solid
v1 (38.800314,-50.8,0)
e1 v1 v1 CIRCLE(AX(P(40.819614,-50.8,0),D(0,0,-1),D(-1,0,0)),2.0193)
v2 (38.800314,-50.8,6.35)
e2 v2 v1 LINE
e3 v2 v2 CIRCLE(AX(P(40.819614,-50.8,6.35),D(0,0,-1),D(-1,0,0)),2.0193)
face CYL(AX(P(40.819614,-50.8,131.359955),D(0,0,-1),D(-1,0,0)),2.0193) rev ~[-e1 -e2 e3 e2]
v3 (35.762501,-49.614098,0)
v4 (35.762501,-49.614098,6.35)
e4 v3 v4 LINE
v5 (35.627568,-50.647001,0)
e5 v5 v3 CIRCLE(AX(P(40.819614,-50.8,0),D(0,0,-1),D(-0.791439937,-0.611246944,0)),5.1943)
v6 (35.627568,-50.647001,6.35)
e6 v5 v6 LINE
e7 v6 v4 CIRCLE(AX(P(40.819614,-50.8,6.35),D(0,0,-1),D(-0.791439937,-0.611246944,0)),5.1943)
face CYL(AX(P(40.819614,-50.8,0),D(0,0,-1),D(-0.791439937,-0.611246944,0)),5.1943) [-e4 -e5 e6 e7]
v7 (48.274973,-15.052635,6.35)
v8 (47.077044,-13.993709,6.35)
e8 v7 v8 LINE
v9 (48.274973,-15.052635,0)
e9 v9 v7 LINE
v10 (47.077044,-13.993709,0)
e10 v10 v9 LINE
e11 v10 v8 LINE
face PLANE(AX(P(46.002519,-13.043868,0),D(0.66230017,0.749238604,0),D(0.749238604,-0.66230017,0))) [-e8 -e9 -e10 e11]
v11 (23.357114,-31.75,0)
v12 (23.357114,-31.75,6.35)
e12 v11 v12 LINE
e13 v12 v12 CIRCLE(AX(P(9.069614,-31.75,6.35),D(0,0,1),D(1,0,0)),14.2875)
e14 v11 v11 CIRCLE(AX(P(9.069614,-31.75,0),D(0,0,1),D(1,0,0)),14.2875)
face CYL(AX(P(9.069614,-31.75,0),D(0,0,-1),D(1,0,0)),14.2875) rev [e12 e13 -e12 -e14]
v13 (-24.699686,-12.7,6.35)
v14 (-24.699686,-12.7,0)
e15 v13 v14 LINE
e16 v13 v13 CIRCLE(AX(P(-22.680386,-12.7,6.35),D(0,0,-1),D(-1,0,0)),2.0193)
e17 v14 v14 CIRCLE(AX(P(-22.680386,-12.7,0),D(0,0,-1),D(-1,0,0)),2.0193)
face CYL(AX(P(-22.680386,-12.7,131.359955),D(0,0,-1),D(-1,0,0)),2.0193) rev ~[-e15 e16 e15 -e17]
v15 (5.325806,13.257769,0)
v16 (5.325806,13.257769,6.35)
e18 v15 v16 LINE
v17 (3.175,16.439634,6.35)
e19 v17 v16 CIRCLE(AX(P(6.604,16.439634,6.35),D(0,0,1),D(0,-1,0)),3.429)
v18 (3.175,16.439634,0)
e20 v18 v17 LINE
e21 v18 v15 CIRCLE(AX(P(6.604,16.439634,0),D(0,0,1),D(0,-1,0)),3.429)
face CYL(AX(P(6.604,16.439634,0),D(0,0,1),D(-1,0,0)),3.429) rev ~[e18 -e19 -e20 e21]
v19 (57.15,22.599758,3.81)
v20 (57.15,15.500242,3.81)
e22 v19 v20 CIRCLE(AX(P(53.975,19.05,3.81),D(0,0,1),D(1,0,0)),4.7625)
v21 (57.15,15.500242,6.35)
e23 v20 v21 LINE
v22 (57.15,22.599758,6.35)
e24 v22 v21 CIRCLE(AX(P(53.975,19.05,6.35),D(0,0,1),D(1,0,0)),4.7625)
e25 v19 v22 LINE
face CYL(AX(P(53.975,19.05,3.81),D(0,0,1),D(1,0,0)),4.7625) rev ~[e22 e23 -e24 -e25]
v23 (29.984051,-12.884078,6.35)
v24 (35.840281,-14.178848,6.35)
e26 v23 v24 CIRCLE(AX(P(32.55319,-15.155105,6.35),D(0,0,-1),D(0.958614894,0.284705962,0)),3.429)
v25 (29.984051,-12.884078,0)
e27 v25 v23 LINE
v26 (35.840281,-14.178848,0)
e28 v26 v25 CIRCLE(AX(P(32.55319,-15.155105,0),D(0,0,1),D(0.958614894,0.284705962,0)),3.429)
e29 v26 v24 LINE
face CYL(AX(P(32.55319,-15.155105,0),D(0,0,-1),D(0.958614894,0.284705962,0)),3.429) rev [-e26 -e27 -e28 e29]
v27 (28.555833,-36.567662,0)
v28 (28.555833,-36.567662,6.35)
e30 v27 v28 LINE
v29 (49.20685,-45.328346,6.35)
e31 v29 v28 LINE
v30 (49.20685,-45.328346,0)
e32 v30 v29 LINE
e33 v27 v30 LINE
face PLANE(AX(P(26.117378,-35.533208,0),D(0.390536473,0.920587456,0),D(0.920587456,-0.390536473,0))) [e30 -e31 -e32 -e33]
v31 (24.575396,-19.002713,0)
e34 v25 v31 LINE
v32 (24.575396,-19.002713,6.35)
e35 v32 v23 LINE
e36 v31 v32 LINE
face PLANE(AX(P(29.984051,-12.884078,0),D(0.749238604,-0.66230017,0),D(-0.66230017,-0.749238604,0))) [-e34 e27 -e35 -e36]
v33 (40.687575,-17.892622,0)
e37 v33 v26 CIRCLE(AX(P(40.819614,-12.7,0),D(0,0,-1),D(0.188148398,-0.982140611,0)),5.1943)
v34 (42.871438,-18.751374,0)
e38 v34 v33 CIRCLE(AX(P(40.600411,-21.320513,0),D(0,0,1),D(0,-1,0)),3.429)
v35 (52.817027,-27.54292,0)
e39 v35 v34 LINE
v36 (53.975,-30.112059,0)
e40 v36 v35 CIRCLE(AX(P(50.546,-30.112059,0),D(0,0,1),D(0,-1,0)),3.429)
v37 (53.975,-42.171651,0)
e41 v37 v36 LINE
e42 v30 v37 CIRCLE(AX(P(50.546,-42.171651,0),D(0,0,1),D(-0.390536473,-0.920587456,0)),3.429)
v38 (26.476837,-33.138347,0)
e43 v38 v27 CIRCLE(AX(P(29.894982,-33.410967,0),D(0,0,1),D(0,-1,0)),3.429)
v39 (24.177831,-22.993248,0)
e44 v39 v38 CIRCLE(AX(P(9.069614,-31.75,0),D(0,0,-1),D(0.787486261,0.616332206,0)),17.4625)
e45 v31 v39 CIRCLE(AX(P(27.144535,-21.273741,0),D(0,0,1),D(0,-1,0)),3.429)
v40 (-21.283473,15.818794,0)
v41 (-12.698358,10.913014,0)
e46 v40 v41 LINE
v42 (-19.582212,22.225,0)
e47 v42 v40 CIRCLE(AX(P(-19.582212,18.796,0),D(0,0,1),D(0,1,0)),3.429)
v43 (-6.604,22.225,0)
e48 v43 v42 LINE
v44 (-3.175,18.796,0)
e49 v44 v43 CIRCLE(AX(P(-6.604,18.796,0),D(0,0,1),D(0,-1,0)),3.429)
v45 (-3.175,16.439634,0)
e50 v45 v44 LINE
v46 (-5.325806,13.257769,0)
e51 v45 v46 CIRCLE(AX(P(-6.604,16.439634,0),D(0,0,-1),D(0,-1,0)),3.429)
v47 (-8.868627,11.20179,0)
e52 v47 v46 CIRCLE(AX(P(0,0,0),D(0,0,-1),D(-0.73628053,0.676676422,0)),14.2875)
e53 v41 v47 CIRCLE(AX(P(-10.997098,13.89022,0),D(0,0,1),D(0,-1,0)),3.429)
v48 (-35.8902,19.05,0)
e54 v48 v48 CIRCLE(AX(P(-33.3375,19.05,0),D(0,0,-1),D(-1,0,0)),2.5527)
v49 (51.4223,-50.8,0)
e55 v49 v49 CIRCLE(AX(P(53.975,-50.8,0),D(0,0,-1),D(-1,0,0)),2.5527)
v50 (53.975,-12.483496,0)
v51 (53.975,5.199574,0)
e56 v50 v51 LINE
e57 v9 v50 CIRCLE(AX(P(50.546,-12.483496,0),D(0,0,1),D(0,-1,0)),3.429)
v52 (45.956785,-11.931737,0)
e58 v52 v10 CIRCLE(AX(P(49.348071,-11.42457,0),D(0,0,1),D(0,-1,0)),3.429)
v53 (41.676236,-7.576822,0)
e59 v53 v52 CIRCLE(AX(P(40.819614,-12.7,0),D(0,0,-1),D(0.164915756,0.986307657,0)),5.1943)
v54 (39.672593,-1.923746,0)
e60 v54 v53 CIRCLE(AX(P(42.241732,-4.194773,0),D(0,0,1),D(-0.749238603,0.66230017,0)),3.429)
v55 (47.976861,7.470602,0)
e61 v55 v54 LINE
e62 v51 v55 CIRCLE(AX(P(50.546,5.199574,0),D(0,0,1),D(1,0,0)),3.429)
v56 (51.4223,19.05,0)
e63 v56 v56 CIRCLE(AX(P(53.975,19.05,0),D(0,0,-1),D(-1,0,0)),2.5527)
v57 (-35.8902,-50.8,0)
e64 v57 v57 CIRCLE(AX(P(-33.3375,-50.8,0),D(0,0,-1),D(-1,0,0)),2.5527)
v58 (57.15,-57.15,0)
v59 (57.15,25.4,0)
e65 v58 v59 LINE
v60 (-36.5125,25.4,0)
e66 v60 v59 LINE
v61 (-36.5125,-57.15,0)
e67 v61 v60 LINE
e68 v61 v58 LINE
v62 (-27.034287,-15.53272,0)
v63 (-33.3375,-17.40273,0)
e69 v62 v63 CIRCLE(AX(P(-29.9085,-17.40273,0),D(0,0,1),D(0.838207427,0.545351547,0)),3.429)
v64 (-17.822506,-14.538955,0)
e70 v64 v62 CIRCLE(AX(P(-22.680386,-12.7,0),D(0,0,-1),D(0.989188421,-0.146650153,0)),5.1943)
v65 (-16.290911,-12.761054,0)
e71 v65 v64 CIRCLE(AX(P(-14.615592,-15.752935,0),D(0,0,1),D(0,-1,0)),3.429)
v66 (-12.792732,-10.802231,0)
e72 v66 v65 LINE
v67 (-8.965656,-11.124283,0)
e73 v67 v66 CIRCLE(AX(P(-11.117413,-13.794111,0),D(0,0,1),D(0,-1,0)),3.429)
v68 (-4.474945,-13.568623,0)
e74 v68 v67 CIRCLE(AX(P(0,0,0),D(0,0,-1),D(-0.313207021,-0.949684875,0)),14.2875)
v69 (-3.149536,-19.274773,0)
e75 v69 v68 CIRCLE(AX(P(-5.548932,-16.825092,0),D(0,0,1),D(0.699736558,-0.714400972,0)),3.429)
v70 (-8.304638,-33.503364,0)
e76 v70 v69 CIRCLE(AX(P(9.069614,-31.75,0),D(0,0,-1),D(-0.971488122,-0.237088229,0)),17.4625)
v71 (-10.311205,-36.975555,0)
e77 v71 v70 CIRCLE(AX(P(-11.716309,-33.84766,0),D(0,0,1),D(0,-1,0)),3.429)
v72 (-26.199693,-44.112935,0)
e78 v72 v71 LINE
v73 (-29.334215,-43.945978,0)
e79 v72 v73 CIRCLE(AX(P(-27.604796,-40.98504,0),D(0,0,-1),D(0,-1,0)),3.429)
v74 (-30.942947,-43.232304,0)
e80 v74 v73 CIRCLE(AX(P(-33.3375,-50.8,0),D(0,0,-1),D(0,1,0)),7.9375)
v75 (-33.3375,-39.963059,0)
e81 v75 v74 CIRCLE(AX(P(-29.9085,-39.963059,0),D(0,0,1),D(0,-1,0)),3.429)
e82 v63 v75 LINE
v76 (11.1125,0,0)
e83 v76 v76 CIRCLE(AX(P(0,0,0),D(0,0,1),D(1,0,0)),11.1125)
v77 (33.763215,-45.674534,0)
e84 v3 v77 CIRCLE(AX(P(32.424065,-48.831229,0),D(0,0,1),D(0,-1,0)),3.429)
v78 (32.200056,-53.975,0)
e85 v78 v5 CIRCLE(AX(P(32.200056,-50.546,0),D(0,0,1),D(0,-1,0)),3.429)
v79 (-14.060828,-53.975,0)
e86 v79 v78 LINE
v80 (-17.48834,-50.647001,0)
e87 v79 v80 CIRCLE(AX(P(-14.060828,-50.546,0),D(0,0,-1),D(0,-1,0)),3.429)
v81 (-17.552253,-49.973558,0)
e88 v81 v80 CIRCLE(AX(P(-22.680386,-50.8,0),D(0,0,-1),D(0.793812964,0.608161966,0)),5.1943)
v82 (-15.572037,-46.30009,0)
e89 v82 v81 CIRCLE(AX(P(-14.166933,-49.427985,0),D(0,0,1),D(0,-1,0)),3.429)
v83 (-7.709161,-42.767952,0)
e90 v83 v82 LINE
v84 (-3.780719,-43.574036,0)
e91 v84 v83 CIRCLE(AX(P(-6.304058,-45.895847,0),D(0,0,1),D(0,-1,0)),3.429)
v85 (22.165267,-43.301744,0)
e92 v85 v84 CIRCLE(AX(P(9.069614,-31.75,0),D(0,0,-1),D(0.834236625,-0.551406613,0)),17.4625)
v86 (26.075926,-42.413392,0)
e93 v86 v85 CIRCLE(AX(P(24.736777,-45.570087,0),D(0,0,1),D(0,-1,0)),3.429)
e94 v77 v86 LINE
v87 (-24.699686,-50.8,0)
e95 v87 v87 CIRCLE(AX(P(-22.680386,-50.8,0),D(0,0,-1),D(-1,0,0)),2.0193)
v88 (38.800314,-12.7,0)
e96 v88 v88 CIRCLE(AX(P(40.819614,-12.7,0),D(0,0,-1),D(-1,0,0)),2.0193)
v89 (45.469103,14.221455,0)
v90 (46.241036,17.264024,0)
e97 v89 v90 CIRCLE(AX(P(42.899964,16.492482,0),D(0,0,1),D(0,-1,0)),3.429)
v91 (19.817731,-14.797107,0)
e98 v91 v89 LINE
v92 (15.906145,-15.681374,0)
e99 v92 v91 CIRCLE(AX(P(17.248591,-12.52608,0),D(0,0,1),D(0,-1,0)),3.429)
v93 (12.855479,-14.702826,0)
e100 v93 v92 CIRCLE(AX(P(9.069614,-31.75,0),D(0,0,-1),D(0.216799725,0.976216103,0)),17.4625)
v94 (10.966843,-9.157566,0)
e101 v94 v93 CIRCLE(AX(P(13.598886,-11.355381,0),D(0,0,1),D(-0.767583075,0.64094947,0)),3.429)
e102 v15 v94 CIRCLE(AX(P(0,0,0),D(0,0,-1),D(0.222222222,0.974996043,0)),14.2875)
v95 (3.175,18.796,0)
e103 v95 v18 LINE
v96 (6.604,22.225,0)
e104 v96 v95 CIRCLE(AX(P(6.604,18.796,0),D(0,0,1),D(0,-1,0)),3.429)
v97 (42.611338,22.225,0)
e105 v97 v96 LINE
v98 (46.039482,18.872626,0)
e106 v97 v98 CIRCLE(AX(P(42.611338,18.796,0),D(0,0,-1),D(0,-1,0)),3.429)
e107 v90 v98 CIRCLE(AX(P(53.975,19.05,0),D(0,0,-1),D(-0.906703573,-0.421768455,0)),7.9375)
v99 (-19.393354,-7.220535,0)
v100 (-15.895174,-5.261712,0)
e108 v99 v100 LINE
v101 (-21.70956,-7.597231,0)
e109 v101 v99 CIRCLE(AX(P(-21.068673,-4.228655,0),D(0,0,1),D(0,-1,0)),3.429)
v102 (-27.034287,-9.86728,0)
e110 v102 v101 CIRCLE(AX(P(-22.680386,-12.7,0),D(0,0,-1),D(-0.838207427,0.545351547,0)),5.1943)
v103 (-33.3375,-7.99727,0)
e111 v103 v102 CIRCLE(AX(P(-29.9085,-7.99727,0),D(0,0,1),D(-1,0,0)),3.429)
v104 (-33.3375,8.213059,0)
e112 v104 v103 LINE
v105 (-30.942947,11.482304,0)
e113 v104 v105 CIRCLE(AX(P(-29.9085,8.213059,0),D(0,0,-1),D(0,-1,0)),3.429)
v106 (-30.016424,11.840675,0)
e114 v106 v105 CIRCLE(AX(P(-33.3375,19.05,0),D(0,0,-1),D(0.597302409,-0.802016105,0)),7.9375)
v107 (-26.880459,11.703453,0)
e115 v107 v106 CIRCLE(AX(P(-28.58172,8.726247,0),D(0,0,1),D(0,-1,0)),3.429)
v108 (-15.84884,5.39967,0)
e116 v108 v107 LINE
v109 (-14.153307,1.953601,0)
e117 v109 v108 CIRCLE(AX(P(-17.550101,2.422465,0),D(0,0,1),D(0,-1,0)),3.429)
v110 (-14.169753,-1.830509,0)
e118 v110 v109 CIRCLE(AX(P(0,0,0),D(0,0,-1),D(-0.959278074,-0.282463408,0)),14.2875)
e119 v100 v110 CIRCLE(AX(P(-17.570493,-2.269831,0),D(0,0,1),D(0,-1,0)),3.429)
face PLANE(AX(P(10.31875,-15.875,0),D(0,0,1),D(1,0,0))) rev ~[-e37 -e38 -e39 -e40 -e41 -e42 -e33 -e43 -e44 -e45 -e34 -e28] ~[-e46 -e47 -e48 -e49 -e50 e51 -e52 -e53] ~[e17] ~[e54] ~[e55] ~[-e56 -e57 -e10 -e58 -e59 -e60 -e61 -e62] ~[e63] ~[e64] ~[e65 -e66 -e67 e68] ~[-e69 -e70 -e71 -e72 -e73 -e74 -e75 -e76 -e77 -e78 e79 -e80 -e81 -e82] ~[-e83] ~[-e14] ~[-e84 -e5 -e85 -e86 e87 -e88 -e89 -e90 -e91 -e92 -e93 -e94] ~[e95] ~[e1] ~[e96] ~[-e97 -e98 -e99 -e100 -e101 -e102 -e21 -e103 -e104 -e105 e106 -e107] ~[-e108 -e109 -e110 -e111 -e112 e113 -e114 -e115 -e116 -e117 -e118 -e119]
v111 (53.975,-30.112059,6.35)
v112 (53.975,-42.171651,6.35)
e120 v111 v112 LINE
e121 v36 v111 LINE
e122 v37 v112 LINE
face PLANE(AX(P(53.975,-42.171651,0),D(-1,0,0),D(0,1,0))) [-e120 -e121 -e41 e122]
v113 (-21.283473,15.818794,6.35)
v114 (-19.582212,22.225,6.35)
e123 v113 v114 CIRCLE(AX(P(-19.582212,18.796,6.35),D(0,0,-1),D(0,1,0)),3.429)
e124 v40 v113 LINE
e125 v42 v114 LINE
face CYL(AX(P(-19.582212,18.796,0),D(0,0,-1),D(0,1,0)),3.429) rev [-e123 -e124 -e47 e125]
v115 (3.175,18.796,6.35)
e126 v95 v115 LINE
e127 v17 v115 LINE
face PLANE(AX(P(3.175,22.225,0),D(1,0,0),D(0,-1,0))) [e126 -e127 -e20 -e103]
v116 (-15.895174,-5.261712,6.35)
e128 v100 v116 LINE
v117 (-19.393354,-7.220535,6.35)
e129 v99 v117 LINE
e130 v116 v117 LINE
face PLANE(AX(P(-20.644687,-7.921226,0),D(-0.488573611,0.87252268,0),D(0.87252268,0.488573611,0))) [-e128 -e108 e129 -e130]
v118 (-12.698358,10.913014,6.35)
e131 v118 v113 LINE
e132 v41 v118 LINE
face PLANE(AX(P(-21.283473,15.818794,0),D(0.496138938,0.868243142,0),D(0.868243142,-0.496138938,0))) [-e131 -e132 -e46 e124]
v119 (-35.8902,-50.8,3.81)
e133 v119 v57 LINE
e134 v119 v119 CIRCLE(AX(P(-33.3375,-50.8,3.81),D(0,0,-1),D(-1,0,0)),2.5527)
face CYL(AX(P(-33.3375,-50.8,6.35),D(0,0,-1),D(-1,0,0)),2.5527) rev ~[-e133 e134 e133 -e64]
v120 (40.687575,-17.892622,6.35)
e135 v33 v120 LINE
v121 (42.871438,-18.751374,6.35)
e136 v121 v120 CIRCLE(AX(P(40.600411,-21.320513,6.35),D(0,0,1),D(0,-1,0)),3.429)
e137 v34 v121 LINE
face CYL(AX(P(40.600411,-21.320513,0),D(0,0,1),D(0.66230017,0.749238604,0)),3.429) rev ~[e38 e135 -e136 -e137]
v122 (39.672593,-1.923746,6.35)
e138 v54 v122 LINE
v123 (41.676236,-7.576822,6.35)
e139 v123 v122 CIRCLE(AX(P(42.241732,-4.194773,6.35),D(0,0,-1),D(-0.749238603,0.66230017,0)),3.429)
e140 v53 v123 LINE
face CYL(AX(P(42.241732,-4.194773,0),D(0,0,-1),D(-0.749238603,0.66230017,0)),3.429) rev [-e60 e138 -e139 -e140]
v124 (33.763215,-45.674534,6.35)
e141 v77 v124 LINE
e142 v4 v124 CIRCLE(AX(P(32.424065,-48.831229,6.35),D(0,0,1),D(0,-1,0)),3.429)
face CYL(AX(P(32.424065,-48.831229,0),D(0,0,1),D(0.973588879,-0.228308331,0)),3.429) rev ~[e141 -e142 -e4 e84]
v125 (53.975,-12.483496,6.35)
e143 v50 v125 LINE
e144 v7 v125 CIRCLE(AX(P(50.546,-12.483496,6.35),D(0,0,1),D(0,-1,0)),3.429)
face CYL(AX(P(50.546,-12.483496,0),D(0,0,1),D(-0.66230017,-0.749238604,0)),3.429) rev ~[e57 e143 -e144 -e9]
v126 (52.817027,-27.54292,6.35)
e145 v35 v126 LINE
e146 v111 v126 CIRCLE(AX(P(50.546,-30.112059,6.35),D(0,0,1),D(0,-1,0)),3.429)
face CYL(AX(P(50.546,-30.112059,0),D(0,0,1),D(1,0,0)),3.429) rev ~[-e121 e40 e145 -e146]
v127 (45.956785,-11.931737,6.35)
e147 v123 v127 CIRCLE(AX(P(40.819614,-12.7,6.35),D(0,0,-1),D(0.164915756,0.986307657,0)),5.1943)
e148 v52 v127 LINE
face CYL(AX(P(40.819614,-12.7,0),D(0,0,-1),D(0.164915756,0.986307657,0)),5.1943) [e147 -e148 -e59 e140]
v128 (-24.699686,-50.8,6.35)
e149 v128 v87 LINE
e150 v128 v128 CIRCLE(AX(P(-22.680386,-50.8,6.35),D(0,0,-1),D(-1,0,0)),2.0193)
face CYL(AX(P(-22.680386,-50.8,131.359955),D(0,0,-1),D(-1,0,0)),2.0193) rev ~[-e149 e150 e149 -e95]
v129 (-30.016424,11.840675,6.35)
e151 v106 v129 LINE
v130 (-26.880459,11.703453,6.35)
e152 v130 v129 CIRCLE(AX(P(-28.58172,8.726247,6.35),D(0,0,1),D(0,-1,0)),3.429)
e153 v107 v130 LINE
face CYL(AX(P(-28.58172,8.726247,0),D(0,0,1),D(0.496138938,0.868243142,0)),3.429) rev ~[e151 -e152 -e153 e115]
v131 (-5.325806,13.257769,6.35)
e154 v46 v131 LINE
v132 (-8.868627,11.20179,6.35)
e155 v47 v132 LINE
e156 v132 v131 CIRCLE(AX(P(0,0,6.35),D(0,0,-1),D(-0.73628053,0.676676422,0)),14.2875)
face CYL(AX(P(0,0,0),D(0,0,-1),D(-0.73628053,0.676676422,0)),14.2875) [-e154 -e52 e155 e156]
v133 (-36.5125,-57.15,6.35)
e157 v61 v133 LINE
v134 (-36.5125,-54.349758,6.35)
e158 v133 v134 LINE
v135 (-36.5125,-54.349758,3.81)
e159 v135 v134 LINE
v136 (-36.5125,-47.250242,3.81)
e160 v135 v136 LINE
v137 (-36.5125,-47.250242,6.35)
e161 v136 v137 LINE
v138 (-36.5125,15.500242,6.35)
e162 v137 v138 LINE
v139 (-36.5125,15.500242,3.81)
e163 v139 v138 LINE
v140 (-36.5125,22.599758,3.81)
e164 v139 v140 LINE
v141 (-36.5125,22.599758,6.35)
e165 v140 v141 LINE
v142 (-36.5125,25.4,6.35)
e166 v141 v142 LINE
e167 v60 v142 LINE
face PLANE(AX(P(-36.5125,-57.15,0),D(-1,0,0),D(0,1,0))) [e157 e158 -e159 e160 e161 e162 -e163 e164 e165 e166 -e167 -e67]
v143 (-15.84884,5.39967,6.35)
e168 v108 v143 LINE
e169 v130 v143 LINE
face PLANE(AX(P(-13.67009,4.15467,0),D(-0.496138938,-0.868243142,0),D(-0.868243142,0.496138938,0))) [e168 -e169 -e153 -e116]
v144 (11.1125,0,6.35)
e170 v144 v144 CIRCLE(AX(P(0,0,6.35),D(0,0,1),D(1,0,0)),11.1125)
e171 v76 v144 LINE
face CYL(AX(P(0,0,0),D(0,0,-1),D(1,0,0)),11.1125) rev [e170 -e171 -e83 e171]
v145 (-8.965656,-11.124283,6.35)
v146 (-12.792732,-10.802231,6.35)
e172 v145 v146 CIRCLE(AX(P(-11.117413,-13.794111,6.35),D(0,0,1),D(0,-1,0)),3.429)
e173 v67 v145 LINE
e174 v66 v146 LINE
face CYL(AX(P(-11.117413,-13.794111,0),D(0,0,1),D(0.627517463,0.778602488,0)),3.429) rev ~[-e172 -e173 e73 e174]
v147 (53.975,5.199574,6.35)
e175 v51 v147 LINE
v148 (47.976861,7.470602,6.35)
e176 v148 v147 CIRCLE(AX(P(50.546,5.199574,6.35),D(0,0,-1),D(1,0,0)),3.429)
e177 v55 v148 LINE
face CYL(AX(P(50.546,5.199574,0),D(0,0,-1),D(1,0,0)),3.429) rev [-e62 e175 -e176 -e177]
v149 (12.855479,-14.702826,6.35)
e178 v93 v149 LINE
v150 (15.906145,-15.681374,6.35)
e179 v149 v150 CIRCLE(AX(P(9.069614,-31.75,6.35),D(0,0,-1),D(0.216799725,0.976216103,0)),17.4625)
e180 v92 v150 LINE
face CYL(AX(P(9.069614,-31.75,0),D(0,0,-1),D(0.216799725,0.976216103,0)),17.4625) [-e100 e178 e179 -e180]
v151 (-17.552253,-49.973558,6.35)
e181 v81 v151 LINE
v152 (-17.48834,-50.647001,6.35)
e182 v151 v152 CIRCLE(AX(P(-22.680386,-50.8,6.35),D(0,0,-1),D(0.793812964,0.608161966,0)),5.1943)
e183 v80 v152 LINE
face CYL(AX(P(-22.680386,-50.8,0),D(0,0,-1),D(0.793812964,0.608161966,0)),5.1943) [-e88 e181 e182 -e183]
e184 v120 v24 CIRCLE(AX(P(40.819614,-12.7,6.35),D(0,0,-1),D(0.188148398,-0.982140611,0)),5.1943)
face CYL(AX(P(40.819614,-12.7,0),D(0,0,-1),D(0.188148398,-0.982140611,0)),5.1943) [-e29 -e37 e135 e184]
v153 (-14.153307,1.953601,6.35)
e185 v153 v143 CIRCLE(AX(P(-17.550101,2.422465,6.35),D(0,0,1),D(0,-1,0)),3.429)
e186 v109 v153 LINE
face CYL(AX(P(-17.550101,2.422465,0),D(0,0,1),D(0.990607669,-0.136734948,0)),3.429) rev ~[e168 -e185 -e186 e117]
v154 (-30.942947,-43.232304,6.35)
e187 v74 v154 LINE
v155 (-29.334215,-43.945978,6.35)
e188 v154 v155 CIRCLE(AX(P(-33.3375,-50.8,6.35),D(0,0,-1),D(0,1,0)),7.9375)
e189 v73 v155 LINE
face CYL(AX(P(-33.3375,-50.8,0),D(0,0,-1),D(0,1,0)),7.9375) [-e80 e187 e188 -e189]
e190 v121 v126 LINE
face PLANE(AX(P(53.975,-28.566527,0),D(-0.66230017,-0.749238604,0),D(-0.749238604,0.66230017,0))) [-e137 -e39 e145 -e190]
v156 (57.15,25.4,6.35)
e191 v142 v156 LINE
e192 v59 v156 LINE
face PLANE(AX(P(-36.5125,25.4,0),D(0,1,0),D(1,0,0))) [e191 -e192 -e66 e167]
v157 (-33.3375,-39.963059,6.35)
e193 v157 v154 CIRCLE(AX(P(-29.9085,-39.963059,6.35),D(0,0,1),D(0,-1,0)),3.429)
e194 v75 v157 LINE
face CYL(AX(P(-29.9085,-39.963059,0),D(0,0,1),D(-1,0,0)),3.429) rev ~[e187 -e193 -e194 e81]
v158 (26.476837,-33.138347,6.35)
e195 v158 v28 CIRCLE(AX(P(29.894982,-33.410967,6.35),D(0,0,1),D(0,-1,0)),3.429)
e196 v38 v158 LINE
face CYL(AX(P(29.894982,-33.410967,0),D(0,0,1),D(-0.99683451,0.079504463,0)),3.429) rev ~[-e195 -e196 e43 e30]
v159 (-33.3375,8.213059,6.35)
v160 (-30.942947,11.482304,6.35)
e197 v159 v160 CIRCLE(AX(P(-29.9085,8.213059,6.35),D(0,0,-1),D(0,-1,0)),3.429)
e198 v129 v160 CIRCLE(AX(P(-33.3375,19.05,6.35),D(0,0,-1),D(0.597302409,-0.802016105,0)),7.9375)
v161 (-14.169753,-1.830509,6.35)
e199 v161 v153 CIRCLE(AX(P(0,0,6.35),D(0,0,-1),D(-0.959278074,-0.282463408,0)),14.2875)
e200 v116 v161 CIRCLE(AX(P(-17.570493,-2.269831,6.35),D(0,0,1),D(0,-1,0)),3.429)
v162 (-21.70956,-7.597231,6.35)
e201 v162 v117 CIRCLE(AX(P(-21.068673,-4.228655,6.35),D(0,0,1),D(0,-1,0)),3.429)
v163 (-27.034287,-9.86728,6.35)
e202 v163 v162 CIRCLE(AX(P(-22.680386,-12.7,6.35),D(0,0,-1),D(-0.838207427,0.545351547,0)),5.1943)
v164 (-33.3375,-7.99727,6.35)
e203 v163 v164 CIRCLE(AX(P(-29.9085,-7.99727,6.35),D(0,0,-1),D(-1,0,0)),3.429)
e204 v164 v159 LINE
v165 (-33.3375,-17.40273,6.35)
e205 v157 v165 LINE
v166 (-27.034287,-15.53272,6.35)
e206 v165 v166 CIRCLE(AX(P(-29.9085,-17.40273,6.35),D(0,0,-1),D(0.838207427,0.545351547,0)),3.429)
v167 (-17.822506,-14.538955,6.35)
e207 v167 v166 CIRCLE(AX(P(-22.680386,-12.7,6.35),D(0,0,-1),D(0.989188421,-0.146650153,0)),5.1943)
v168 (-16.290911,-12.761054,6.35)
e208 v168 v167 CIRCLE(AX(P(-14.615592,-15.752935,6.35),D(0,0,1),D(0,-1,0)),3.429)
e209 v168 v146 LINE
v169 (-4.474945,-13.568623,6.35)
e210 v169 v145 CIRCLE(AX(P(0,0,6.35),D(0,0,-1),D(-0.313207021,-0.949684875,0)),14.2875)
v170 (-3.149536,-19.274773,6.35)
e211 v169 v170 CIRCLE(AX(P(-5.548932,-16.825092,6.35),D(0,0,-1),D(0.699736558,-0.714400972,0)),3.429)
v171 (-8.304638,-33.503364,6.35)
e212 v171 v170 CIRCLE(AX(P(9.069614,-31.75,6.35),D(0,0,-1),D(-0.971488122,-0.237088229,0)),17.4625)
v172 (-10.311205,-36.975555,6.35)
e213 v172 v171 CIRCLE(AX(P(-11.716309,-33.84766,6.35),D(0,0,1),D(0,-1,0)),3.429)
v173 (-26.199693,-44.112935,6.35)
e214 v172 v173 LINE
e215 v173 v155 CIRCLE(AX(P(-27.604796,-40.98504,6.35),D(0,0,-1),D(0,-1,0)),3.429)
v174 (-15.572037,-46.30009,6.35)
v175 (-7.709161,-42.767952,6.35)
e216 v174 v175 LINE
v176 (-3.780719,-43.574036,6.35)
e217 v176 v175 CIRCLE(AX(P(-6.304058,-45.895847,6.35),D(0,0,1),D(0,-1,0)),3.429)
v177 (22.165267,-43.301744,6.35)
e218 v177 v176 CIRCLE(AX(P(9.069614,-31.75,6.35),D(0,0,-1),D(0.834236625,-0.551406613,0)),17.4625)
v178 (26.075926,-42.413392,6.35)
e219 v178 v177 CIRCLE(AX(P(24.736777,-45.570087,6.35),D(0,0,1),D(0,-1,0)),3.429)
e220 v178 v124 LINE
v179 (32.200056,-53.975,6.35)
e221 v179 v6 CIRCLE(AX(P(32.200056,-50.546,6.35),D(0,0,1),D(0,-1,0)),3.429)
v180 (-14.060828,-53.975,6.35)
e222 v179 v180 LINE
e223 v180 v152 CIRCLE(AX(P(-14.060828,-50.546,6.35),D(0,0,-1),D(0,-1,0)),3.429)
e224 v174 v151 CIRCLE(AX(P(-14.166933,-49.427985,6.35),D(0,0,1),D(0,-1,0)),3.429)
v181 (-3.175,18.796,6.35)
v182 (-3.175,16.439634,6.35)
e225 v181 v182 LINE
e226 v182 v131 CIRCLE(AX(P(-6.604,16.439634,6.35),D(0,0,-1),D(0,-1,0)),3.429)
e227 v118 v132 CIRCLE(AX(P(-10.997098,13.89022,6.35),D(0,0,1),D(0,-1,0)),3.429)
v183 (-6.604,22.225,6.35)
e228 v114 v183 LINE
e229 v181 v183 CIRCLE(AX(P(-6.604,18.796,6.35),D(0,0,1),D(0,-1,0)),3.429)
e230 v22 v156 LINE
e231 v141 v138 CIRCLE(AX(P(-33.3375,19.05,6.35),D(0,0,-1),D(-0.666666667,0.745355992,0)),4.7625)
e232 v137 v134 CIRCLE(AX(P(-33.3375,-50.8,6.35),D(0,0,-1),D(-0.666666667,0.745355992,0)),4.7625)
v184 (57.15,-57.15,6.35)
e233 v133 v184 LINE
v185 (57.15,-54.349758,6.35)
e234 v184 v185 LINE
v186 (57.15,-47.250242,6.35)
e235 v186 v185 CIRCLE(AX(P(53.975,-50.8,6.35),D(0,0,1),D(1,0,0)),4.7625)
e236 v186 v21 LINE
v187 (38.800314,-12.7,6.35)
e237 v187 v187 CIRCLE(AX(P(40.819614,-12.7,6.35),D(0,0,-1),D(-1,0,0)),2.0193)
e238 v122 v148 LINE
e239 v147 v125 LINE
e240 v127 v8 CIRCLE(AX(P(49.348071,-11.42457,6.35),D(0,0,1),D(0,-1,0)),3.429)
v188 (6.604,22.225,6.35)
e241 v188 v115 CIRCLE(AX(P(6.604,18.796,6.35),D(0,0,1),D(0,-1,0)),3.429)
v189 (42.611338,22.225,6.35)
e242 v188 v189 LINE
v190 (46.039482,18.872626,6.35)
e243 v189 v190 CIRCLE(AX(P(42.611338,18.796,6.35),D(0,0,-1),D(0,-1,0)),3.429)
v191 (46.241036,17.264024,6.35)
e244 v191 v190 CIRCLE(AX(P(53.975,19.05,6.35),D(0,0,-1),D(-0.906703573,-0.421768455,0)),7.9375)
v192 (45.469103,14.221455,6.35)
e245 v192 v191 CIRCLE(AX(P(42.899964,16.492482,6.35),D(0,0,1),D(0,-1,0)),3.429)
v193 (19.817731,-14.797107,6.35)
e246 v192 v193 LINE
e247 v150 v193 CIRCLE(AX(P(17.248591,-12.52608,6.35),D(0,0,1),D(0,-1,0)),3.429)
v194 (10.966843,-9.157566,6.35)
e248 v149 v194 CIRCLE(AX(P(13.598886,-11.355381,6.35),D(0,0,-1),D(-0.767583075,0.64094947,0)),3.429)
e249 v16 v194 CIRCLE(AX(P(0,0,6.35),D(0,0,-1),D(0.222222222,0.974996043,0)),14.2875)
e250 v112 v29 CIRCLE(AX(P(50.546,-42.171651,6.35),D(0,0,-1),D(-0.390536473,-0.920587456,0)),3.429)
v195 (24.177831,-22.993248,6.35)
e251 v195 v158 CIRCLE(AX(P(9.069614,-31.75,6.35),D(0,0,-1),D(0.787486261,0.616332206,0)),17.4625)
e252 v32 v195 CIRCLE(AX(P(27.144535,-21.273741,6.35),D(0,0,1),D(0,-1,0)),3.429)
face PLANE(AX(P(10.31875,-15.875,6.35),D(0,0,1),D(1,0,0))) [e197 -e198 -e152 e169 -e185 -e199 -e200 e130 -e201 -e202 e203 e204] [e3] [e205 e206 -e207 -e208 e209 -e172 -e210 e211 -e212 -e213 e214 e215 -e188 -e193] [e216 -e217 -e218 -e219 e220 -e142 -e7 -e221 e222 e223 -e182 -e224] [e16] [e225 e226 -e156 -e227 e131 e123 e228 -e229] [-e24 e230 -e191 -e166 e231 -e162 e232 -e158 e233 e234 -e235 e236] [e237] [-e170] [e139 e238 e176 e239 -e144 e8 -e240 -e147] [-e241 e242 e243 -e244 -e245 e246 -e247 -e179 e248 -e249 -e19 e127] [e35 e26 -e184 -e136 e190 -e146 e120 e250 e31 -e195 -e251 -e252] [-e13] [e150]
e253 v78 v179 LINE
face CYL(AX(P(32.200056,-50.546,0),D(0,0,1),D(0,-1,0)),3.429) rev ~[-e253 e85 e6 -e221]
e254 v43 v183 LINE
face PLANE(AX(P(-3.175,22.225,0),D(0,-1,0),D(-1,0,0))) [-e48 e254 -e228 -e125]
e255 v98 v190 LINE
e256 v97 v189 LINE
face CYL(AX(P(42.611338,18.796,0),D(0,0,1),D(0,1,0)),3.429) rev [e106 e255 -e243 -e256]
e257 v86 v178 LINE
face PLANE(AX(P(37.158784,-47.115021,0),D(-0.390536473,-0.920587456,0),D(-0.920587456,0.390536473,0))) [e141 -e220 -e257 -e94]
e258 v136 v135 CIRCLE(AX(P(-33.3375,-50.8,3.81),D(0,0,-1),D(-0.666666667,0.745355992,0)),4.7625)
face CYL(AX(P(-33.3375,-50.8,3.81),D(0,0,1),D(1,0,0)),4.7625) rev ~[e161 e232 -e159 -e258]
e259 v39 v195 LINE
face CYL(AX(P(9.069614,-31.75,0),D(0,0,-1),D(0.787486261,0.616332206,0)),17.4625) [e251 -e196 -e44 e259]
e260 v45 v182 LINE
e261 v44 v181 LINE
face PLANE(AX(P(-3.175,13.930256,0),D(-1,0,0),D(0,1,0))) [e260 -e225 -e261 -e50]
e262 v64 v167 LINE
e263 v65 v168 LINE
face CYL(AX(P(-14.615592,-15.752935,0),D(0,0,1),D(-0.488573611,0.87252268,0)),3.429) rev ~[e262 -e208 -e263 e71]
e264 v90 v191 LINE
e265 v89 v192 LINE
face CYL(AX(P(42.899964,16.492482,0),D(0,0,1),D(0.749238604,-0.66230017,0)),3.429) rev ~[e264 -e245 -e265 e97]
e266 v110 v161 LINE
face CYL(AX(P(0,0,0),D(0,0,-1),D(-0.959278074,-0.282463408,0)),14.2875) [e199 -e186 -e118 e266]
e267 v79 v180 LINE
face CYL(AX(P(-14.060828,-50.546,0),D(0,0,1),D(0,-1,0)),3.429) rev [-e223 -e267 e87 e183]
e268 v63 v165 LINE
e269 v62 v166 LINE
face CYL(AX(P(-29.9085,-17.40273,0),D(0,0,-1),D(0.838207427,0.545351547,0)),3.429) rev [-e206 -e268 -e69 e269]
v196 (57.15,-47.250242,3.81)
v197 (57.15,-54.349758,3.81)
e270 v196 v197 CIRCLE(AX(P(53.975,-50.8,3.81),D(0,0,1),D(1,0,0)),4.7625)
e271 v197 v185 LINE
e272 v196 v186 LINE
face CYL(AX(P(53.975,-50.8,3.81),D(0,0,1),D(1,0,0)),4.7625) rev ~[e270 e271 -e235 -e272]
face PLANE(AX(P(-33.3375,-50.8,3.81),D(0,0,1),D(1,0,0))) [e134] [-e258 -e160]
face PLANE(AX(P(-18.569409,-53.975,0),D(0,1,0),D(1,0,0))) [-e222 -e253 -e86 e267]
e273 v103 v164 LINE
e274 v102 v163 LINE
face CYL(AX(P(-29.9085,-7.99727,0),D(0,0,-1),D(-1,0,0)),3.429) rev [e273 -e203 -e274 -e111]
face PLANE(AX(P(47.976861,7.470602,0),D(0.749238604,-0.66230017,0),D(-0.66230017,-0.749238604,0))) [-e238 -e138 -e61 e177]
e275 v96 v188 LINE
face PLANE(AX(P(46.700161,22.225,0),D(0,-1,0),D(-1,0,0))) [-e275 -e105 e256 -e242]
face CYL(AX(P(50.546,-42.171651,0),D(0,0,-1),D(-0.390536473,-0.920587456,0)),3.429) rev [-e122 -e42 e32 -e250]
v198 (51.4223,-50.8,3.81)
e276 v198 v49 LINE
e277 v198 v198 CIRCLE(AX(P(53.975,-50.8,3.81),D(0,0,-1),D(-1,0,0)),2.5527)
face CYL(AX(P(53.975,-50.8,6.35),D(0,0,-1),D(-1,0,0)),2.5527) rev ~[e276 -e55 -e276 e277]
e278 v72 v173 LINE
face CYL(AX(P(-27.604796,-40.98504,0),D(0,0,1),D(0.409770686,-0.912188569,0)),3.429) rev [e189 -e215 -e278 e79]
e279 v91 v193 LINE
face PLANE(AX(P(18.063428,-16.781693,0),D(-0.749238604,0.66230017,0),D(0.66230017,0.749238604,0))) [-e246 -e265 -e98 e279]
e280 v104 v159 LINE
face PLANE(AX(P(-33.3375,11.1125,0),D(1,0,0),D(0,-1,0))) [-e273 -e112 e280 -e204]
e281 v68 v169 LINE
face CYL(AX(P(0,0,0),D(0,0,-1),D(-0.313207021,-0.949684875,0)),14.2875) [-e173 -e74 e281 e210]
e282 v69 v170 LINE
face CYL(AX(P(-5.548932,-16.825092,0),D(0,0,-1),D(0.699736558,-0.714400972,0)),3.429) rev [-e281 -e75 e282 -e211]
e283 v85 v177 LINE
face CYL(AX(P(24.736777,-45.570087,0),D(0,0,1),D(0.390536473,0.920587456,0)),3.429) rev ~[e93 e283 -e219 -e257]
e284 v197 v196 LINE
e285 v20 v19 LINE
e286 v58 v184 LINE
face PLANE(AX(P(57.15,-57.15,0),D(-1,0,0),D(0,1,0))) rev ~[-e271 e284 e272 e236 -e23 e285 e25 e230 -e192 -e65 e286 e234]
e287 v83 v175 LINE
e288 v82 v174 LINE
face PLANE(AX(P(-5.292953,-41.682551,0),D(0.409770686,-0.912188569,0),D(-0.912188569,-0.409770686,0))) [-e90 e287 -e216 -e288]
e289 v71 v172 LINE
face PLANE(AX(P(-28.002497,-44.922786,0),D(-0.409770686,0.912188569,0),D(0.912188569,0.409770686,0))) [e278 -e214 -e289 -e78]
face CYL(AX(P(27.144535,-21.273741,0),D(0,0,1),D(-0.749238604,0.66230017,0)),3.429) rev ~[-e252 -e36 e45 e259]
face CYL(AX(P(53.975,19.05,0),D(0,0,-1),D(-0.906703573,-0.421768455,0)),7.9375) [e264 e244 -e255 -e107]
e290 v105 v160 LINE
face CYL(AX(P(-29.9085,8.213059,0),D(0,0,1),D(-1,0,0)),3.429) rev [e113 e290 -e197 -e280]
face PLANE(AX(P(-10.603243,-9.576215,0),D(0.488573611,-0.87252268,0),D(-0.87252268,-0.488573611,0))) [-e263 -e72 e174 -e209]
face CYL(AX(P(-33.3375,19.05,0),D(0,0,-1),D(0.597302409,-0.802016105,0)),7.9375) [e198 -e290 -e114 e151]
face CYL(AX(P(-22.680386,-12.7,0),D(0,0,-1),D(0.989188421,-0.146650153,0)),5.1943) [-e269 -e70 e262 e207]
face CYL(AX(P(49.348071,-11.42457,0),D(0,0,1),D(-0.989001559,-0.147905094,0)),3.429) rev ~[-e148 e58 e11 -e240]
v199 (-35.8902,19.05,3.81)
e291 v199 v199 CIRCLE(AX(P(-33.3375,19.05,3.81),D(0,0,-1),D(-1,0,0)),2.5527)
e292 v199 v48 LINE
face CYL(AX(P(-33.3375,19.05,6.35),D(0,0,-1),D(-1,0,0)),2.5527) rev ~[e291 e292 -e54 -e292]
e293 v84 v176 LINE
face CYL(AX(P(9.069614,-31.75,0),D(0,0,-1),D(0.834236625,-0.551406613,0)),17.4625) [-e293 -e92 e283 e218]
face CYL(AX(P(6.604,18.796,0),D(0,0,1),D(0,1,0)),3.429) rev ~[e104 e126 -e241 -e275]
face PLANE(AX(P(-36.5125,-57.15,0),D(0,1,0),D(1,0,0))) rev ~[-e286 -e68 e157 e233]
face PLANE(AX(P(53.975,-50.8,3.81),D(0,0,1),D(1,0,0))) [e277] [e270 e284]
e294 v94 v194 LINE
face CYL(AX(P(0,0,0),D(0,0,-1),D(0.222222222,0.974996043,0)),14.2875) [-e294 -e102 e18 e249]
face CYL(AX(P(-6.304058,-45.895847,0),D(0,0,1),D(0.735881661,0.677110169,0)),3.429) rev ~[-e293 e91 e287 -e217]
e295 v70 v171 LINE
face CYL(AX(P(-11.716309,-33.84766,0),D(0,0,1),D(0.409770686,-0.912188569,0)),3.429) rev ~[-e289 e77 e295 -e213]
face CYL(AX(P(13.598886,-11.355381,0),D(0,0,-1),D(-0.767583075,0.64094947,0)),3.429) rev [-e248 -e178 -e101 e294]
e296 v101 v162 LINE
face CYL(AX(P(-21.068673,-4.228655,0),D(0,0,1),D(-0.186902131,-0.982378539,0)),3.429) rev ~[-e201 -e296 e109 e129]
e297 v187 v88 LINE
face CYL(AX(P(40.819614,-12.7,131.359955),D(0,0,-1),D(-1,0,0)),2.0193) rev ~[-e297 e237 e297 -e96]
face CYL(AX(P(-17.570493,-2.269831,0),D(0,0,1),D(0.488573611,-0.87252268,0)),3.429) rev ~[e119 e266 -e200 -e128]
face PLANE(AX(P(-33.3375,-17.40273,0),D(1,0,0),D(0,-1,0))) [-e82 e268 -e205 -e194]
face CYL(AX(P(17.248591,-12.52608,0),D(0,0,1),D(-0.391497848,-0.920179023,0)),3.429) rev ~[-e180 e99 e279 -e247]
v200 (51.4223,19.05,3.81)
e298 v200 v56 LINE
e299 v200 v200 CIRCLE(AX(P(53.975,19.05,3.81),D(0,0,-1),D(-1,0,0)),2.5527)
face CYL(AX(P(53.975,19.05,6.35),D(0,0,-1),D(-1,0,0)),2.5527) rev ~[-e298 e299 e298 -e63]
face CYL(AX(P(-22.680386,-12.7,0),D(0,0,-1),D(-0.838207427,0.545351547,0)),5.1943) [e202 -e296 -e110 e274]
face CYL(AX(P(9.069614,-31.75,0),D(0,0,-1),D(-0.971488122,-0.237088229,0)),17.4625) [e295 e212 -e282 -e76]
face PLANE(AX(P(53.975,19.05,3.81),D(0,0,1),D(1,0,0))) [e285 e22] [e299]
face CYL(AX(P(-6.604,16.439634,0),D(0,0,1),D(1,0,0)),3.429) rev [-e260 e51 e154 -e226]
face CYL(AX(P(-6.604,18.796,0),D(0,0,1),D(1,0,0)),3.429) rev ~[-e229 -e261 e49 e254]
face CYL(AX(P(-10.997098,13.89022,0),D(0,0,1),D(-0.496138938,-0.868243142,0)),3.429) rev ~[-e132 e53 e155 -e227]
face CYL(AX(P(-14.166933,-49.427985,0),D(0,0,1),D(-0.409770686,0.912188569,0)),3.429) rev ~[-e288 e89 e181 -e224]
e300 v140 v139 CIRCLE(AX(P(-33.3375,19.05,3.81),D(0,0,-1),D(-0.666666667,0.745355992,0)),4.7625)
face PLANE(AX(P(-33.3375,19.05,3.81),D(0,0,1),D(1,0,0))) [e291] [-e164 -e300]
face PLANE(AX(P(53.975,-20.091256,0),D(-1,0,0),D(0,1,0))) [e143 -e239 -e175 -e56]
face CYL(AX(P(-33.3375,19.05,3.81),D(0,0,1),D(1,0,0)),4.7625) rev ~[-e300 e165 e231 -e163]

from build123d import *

# Parameters (mm, degrees)
SKETCH1_W                                           = 93.6625
SKETCH1_H                                           = 82.55
SKETCH1_R                                           = 11.1125
SKETCH1_R_2                                         = 14.2875
BOSS_EXTRUDE1_DEPTH                                 = 6.35
CBORE_FOR_10_BINDING_HEAD_MACHINE_SCREW_D           = 5.1054
CBORE_FOR_10_BINDING_HEAD_MACHINE_SCREW_CBORE_D     = 9.525
CBORE_FOR_10_BINDING_HEAD_MACHINE_SCREW_CBORE_DEPTH = 2.54
F_10_32_TAPPED_HOLE1_D                              = 4.0386
CUT_EXTRUDE1_DEPTH                                  = 7.35
FILLET1_R                                           = 3.429


with BuildPart() as part:
    # Sketch1 → Boss-Extrude1 (new body)
    with BuildSketch(Plane.XY):
        with Locations((10.31875, -15.875)):
            Rectangle(SKETCH1_W, SKETCH1_H)
        Circle(SKETCH1_R, mode=Mode.SUBTRACT)
        with Locations((9.069614104, -31.75)):
            Circle(SKETCH1_R_2, mode=Mode.SUBTRACT)
    extrude(amount=BOSS_EXTRUDE1_DEPTH)

    # CBORE for #10 Binding Head Machine Screw1 (through all)
    with Locations(Plane.XY.offset(6.35)):
        with Locations((-33.3375, 19.05), (53.975, 19.05), (-33.3375, -50.8), (53.975, -50.8)):
            CounterBoreHole(CBORE_FOR_10_BINDING_HEAD_MACHINE_SCREW_D / 2, CBORE_FOR_10_BINDING_HEAD_MACHINE_SCREW_CBORE_D / 2, CBORE_FOR_10_BINDING_HEAD_MACHINE_SCREW_CBORE_DEPTH)

    # #10-32 Tapped Hole1 (through all)
    with Locations(Plane.XY.offset(6.35)):
        with Locations((-22.680385896, -12.7), (-22.680385896, -50.8), (40.819614104, -12.7), (40.819614104, -50.8)):
            Hole(F_10_32_TAPPED_HOLE1_D / 2)

    # Sketch4 → Cut-Extrude1 (cut, through all)
    with BuildSketch(Plane.XY):
        with BuildLine():
            Line((-18.569409431, -53.975), (36.70863764, -53.975))
            ThreePointArc((36.70863764, -53.975), (35.636461118, -50.459885882), (37.158783689, -47.115020602))
            Line((37.158783689, -47.115020602), (23.637471172, -41.378937985))
            ThreePointArc((23.637471172, -41.378937985), (9.2528656, -49.211538453), (-5.292953374, -41.682550613))
            Line((-5.292953374, -41.682550613), (-18.557083214, -47.641024298))
            ThreePointArc((-18.557083214, -47.641024298), (-17.486095731, -50.810108335), (-18.569409431, -53.975))
        make_face()
        with BuildLine():
            Line((-33.3375, 11.1125), (-33.3375, -7.997270007))
            ThreePointArc((-33.3375, -7.997270007), (-30.883785524, -11.284648772), (-27.034286733, -9.867280461))
            ThreePointArc((-27.034286733, -9.867280461), (-24.193758641, -7.731050873), (-20.644686909, -7.921225876))
            Line((-20.644686909, -7.921225876), (-13.705685479, -4.035695949))
            ThreePointArc((-13.705685479, -4.035695949), (-14.287365074, 0.062092554), (-13.670090339, 4.154670429))
            Line((-13.670090339, 4.154670429), (-28.596412131, 12.683997167))
            ThreePointArc((-28.596412131, 12.683997167), (-30.840125502, 11.515610385), (-33.3375, 11.1125))
        make_face()
        with BuildLine():
            Line((46.700161084, 22.225), (3.175, 22.225))
            Line((3.175, 22.225), (3.175, 13.930255965))
            ThreePointArc((3.175, 13.930255965), (13.537348624, 4.568681263), (10.966843182, -9.157565554))
            ThreePointArc((10.966843182, -9.157565554), (10.352981582, -12.460889523), (12.855479291, -14.702826303))
            ThreePointArc((12.855479291, -14.702826303), (15.543443695, -15.531848543), (18.063427807, -16.78169277))
            Line((18.063427807, -16.78169277), (46.778040385, 15.702212888))
            ThreePointArc((46.778040385, 15.702212888), (46.038065698, 18.955236384), (46.700161084, 22.225))
        make_face()
        with BuildLine():
            Line((53.975, -42.17165131), (53.975, -28.566526704))
            Line((53.975, -28.566526704), (41.796913331, -17.801532977))
            ThreePointArc((41.796913331, -17.801532977), (38.120534528, -17.137986247), (35.84028076, -14.178848178))
            ThreePointArc((35.84028076, -14.178848178), (33.293441059, -11.80696069), (29.984051116, -12.884077639))
            Line((29.984051116, -12.884077639), (22.821092939, -20.987298848))
            ThreePointArc((22.821092939, -20.987298848), (26.100298189, -27.89063401), (26.117377775, -35.533207642))
            Line((26.117377775, -35.533207642), (49.206850434, -45.328345695))
            ThreePointArc((49.206850434, -45.328345695), (52.438894231, -45.030845677), (53.975, -42.17165131))
        make_face()
        with BuildLine():
            Line((-3.175, 13.930255965), (-3.175, 22.225))
            Line((-3.175, 22.225), (-19.582212458, 22.225))
            ThreePointArc((-19.582212458, 22.225), (-22.896339753, 19.67611435), (-21.283472877, 15.818794266))
            Line((-21.283472877, 15.818794266), (-10.51960808, 9.668014382))
            ThreePointArc((-10.51960808, 9.668014382), (-7.171279415, 12.357402955), (-3.175, 13.930255965))
        make_face()
        with BuildLine():
            Line((47.976860828, 7.470601764), (39.67259297, -1.923745903))
            ThreePointArc((39.67259297, -1.923745903), (39.009735491, -5.340303041), (41.676236015, -7.576822139))
            ThreePointArc((41.676236015, -7.576822139), (44.892833891, -9.476704627), (46.002519409, -13.043867844))
            Line((46.002519409, -13.043867844), (53.975, -20.091255983))
            Line((53.975, -20.091255983), (53.975, 5.199574482))
            ThreePointArc((53.975, 5.199574482), (51.760179307, 8.406412428), (47.976860828, 7.470601764))
        make_face()
        with BuildLine():
            Line((-28.002497029, -44.922785562), (-7.89499723, -35.890153201))
            ThreePointArc((-7.89499723, -35.890153201), (-7.721475523, -26.954354539), (-3.149535541, -19.27477302))
            ThreePointArc((-3.149535541, -19.27477302), (-2.208851914, -16.049266917), (-4.474945322, -13.56862265))
            ThreePointArc((-4.474945322, -13.56862265), (-7.798895494, -11.971210688), (-10.60324305, -9.576214966))
            Line((-10.60324305, -9.576214966), (-17.54224448, -13.461744893))
            ThreePointArc((-17.54224448, -13.461744893), (-21.573140522, -17.774914795), (-27.034286733, -15.532719539))
            ThreePointArc((-27.034286733, -15.532719539), (-30.883785524, -14.115351228), (-33.3375, -17.402729993))
            Line((-33.3375, -17.402729993), (-33.3375, -42.8625))
            ThreePointArc((-33.3375, -42.8625), (-30.47799684, -43.395464368), (-28.002497029, -44.922785562))
        make_face()
    extrude(amount=CUT_EXTRUDE1_DEPTH, mode=Mode.SUBTRACT)

    # Fillet1
    fillet1_edges = [part.edges().sort_by_distance(p)[0] for p in [
        (-33.3375, -42.8625, 3.175),
        (-28.002497029, -44.922785562, 3.175),
        (-7.89499723, -35.890153201, 3.175),
        (-10.60324305, -9.576214966, 3.175),
        (-17.54224448, -13.461744893, 3.175),
        (46.002519409, -13.043867844, 3.175),
        (53.975, -20.091255983, 3.175),
        (-3.175, 22.225, 3.175),
        (-10.51960808, 9.668014382, 3.175),
        (-3.175, 13.930255965, 3.175),
        (36.70863764, -53.975, 3.175),
        (37.158783689, -47.115020602, 3.175),
        (23.637471172, -41.378937985, 3.175),
        (-5.292953374, -41.682550613, 3.175),
        (-18.557083214, -47.641024298, 3.175),
        (-18.569409431, -53.975, 3.175),
        (46.778040385, 15.702212888, 3.175),
        (46.700161084, 22.225, 3.175),
        (3.175, 22.225, 3.175),
        (3.175, 13.930255965, 3.175),
        (18.063427807, -16.78169277, 3.175),
        (22.821092939, -20.987298848, 3.175),
        (26.117377775, -35.533207642, 3.175),
        (53.975, -28.566526704, 3.175),
        (41.796913331, -17.801532977, 3.175),
        (-28.596412131, 12.683997167, 3.175),
        (-33.3375, 11.1125, 3.175),
        (-20.644686909, -7.921225876, 3.175),
        (-13.705685479, -4.035695949, 3.175),
        (-13.670090339, 4.154670429, 3.175),
    ]]
    fillet(fillet1_edges, radius=FILLET1_R)


solid = part.part
